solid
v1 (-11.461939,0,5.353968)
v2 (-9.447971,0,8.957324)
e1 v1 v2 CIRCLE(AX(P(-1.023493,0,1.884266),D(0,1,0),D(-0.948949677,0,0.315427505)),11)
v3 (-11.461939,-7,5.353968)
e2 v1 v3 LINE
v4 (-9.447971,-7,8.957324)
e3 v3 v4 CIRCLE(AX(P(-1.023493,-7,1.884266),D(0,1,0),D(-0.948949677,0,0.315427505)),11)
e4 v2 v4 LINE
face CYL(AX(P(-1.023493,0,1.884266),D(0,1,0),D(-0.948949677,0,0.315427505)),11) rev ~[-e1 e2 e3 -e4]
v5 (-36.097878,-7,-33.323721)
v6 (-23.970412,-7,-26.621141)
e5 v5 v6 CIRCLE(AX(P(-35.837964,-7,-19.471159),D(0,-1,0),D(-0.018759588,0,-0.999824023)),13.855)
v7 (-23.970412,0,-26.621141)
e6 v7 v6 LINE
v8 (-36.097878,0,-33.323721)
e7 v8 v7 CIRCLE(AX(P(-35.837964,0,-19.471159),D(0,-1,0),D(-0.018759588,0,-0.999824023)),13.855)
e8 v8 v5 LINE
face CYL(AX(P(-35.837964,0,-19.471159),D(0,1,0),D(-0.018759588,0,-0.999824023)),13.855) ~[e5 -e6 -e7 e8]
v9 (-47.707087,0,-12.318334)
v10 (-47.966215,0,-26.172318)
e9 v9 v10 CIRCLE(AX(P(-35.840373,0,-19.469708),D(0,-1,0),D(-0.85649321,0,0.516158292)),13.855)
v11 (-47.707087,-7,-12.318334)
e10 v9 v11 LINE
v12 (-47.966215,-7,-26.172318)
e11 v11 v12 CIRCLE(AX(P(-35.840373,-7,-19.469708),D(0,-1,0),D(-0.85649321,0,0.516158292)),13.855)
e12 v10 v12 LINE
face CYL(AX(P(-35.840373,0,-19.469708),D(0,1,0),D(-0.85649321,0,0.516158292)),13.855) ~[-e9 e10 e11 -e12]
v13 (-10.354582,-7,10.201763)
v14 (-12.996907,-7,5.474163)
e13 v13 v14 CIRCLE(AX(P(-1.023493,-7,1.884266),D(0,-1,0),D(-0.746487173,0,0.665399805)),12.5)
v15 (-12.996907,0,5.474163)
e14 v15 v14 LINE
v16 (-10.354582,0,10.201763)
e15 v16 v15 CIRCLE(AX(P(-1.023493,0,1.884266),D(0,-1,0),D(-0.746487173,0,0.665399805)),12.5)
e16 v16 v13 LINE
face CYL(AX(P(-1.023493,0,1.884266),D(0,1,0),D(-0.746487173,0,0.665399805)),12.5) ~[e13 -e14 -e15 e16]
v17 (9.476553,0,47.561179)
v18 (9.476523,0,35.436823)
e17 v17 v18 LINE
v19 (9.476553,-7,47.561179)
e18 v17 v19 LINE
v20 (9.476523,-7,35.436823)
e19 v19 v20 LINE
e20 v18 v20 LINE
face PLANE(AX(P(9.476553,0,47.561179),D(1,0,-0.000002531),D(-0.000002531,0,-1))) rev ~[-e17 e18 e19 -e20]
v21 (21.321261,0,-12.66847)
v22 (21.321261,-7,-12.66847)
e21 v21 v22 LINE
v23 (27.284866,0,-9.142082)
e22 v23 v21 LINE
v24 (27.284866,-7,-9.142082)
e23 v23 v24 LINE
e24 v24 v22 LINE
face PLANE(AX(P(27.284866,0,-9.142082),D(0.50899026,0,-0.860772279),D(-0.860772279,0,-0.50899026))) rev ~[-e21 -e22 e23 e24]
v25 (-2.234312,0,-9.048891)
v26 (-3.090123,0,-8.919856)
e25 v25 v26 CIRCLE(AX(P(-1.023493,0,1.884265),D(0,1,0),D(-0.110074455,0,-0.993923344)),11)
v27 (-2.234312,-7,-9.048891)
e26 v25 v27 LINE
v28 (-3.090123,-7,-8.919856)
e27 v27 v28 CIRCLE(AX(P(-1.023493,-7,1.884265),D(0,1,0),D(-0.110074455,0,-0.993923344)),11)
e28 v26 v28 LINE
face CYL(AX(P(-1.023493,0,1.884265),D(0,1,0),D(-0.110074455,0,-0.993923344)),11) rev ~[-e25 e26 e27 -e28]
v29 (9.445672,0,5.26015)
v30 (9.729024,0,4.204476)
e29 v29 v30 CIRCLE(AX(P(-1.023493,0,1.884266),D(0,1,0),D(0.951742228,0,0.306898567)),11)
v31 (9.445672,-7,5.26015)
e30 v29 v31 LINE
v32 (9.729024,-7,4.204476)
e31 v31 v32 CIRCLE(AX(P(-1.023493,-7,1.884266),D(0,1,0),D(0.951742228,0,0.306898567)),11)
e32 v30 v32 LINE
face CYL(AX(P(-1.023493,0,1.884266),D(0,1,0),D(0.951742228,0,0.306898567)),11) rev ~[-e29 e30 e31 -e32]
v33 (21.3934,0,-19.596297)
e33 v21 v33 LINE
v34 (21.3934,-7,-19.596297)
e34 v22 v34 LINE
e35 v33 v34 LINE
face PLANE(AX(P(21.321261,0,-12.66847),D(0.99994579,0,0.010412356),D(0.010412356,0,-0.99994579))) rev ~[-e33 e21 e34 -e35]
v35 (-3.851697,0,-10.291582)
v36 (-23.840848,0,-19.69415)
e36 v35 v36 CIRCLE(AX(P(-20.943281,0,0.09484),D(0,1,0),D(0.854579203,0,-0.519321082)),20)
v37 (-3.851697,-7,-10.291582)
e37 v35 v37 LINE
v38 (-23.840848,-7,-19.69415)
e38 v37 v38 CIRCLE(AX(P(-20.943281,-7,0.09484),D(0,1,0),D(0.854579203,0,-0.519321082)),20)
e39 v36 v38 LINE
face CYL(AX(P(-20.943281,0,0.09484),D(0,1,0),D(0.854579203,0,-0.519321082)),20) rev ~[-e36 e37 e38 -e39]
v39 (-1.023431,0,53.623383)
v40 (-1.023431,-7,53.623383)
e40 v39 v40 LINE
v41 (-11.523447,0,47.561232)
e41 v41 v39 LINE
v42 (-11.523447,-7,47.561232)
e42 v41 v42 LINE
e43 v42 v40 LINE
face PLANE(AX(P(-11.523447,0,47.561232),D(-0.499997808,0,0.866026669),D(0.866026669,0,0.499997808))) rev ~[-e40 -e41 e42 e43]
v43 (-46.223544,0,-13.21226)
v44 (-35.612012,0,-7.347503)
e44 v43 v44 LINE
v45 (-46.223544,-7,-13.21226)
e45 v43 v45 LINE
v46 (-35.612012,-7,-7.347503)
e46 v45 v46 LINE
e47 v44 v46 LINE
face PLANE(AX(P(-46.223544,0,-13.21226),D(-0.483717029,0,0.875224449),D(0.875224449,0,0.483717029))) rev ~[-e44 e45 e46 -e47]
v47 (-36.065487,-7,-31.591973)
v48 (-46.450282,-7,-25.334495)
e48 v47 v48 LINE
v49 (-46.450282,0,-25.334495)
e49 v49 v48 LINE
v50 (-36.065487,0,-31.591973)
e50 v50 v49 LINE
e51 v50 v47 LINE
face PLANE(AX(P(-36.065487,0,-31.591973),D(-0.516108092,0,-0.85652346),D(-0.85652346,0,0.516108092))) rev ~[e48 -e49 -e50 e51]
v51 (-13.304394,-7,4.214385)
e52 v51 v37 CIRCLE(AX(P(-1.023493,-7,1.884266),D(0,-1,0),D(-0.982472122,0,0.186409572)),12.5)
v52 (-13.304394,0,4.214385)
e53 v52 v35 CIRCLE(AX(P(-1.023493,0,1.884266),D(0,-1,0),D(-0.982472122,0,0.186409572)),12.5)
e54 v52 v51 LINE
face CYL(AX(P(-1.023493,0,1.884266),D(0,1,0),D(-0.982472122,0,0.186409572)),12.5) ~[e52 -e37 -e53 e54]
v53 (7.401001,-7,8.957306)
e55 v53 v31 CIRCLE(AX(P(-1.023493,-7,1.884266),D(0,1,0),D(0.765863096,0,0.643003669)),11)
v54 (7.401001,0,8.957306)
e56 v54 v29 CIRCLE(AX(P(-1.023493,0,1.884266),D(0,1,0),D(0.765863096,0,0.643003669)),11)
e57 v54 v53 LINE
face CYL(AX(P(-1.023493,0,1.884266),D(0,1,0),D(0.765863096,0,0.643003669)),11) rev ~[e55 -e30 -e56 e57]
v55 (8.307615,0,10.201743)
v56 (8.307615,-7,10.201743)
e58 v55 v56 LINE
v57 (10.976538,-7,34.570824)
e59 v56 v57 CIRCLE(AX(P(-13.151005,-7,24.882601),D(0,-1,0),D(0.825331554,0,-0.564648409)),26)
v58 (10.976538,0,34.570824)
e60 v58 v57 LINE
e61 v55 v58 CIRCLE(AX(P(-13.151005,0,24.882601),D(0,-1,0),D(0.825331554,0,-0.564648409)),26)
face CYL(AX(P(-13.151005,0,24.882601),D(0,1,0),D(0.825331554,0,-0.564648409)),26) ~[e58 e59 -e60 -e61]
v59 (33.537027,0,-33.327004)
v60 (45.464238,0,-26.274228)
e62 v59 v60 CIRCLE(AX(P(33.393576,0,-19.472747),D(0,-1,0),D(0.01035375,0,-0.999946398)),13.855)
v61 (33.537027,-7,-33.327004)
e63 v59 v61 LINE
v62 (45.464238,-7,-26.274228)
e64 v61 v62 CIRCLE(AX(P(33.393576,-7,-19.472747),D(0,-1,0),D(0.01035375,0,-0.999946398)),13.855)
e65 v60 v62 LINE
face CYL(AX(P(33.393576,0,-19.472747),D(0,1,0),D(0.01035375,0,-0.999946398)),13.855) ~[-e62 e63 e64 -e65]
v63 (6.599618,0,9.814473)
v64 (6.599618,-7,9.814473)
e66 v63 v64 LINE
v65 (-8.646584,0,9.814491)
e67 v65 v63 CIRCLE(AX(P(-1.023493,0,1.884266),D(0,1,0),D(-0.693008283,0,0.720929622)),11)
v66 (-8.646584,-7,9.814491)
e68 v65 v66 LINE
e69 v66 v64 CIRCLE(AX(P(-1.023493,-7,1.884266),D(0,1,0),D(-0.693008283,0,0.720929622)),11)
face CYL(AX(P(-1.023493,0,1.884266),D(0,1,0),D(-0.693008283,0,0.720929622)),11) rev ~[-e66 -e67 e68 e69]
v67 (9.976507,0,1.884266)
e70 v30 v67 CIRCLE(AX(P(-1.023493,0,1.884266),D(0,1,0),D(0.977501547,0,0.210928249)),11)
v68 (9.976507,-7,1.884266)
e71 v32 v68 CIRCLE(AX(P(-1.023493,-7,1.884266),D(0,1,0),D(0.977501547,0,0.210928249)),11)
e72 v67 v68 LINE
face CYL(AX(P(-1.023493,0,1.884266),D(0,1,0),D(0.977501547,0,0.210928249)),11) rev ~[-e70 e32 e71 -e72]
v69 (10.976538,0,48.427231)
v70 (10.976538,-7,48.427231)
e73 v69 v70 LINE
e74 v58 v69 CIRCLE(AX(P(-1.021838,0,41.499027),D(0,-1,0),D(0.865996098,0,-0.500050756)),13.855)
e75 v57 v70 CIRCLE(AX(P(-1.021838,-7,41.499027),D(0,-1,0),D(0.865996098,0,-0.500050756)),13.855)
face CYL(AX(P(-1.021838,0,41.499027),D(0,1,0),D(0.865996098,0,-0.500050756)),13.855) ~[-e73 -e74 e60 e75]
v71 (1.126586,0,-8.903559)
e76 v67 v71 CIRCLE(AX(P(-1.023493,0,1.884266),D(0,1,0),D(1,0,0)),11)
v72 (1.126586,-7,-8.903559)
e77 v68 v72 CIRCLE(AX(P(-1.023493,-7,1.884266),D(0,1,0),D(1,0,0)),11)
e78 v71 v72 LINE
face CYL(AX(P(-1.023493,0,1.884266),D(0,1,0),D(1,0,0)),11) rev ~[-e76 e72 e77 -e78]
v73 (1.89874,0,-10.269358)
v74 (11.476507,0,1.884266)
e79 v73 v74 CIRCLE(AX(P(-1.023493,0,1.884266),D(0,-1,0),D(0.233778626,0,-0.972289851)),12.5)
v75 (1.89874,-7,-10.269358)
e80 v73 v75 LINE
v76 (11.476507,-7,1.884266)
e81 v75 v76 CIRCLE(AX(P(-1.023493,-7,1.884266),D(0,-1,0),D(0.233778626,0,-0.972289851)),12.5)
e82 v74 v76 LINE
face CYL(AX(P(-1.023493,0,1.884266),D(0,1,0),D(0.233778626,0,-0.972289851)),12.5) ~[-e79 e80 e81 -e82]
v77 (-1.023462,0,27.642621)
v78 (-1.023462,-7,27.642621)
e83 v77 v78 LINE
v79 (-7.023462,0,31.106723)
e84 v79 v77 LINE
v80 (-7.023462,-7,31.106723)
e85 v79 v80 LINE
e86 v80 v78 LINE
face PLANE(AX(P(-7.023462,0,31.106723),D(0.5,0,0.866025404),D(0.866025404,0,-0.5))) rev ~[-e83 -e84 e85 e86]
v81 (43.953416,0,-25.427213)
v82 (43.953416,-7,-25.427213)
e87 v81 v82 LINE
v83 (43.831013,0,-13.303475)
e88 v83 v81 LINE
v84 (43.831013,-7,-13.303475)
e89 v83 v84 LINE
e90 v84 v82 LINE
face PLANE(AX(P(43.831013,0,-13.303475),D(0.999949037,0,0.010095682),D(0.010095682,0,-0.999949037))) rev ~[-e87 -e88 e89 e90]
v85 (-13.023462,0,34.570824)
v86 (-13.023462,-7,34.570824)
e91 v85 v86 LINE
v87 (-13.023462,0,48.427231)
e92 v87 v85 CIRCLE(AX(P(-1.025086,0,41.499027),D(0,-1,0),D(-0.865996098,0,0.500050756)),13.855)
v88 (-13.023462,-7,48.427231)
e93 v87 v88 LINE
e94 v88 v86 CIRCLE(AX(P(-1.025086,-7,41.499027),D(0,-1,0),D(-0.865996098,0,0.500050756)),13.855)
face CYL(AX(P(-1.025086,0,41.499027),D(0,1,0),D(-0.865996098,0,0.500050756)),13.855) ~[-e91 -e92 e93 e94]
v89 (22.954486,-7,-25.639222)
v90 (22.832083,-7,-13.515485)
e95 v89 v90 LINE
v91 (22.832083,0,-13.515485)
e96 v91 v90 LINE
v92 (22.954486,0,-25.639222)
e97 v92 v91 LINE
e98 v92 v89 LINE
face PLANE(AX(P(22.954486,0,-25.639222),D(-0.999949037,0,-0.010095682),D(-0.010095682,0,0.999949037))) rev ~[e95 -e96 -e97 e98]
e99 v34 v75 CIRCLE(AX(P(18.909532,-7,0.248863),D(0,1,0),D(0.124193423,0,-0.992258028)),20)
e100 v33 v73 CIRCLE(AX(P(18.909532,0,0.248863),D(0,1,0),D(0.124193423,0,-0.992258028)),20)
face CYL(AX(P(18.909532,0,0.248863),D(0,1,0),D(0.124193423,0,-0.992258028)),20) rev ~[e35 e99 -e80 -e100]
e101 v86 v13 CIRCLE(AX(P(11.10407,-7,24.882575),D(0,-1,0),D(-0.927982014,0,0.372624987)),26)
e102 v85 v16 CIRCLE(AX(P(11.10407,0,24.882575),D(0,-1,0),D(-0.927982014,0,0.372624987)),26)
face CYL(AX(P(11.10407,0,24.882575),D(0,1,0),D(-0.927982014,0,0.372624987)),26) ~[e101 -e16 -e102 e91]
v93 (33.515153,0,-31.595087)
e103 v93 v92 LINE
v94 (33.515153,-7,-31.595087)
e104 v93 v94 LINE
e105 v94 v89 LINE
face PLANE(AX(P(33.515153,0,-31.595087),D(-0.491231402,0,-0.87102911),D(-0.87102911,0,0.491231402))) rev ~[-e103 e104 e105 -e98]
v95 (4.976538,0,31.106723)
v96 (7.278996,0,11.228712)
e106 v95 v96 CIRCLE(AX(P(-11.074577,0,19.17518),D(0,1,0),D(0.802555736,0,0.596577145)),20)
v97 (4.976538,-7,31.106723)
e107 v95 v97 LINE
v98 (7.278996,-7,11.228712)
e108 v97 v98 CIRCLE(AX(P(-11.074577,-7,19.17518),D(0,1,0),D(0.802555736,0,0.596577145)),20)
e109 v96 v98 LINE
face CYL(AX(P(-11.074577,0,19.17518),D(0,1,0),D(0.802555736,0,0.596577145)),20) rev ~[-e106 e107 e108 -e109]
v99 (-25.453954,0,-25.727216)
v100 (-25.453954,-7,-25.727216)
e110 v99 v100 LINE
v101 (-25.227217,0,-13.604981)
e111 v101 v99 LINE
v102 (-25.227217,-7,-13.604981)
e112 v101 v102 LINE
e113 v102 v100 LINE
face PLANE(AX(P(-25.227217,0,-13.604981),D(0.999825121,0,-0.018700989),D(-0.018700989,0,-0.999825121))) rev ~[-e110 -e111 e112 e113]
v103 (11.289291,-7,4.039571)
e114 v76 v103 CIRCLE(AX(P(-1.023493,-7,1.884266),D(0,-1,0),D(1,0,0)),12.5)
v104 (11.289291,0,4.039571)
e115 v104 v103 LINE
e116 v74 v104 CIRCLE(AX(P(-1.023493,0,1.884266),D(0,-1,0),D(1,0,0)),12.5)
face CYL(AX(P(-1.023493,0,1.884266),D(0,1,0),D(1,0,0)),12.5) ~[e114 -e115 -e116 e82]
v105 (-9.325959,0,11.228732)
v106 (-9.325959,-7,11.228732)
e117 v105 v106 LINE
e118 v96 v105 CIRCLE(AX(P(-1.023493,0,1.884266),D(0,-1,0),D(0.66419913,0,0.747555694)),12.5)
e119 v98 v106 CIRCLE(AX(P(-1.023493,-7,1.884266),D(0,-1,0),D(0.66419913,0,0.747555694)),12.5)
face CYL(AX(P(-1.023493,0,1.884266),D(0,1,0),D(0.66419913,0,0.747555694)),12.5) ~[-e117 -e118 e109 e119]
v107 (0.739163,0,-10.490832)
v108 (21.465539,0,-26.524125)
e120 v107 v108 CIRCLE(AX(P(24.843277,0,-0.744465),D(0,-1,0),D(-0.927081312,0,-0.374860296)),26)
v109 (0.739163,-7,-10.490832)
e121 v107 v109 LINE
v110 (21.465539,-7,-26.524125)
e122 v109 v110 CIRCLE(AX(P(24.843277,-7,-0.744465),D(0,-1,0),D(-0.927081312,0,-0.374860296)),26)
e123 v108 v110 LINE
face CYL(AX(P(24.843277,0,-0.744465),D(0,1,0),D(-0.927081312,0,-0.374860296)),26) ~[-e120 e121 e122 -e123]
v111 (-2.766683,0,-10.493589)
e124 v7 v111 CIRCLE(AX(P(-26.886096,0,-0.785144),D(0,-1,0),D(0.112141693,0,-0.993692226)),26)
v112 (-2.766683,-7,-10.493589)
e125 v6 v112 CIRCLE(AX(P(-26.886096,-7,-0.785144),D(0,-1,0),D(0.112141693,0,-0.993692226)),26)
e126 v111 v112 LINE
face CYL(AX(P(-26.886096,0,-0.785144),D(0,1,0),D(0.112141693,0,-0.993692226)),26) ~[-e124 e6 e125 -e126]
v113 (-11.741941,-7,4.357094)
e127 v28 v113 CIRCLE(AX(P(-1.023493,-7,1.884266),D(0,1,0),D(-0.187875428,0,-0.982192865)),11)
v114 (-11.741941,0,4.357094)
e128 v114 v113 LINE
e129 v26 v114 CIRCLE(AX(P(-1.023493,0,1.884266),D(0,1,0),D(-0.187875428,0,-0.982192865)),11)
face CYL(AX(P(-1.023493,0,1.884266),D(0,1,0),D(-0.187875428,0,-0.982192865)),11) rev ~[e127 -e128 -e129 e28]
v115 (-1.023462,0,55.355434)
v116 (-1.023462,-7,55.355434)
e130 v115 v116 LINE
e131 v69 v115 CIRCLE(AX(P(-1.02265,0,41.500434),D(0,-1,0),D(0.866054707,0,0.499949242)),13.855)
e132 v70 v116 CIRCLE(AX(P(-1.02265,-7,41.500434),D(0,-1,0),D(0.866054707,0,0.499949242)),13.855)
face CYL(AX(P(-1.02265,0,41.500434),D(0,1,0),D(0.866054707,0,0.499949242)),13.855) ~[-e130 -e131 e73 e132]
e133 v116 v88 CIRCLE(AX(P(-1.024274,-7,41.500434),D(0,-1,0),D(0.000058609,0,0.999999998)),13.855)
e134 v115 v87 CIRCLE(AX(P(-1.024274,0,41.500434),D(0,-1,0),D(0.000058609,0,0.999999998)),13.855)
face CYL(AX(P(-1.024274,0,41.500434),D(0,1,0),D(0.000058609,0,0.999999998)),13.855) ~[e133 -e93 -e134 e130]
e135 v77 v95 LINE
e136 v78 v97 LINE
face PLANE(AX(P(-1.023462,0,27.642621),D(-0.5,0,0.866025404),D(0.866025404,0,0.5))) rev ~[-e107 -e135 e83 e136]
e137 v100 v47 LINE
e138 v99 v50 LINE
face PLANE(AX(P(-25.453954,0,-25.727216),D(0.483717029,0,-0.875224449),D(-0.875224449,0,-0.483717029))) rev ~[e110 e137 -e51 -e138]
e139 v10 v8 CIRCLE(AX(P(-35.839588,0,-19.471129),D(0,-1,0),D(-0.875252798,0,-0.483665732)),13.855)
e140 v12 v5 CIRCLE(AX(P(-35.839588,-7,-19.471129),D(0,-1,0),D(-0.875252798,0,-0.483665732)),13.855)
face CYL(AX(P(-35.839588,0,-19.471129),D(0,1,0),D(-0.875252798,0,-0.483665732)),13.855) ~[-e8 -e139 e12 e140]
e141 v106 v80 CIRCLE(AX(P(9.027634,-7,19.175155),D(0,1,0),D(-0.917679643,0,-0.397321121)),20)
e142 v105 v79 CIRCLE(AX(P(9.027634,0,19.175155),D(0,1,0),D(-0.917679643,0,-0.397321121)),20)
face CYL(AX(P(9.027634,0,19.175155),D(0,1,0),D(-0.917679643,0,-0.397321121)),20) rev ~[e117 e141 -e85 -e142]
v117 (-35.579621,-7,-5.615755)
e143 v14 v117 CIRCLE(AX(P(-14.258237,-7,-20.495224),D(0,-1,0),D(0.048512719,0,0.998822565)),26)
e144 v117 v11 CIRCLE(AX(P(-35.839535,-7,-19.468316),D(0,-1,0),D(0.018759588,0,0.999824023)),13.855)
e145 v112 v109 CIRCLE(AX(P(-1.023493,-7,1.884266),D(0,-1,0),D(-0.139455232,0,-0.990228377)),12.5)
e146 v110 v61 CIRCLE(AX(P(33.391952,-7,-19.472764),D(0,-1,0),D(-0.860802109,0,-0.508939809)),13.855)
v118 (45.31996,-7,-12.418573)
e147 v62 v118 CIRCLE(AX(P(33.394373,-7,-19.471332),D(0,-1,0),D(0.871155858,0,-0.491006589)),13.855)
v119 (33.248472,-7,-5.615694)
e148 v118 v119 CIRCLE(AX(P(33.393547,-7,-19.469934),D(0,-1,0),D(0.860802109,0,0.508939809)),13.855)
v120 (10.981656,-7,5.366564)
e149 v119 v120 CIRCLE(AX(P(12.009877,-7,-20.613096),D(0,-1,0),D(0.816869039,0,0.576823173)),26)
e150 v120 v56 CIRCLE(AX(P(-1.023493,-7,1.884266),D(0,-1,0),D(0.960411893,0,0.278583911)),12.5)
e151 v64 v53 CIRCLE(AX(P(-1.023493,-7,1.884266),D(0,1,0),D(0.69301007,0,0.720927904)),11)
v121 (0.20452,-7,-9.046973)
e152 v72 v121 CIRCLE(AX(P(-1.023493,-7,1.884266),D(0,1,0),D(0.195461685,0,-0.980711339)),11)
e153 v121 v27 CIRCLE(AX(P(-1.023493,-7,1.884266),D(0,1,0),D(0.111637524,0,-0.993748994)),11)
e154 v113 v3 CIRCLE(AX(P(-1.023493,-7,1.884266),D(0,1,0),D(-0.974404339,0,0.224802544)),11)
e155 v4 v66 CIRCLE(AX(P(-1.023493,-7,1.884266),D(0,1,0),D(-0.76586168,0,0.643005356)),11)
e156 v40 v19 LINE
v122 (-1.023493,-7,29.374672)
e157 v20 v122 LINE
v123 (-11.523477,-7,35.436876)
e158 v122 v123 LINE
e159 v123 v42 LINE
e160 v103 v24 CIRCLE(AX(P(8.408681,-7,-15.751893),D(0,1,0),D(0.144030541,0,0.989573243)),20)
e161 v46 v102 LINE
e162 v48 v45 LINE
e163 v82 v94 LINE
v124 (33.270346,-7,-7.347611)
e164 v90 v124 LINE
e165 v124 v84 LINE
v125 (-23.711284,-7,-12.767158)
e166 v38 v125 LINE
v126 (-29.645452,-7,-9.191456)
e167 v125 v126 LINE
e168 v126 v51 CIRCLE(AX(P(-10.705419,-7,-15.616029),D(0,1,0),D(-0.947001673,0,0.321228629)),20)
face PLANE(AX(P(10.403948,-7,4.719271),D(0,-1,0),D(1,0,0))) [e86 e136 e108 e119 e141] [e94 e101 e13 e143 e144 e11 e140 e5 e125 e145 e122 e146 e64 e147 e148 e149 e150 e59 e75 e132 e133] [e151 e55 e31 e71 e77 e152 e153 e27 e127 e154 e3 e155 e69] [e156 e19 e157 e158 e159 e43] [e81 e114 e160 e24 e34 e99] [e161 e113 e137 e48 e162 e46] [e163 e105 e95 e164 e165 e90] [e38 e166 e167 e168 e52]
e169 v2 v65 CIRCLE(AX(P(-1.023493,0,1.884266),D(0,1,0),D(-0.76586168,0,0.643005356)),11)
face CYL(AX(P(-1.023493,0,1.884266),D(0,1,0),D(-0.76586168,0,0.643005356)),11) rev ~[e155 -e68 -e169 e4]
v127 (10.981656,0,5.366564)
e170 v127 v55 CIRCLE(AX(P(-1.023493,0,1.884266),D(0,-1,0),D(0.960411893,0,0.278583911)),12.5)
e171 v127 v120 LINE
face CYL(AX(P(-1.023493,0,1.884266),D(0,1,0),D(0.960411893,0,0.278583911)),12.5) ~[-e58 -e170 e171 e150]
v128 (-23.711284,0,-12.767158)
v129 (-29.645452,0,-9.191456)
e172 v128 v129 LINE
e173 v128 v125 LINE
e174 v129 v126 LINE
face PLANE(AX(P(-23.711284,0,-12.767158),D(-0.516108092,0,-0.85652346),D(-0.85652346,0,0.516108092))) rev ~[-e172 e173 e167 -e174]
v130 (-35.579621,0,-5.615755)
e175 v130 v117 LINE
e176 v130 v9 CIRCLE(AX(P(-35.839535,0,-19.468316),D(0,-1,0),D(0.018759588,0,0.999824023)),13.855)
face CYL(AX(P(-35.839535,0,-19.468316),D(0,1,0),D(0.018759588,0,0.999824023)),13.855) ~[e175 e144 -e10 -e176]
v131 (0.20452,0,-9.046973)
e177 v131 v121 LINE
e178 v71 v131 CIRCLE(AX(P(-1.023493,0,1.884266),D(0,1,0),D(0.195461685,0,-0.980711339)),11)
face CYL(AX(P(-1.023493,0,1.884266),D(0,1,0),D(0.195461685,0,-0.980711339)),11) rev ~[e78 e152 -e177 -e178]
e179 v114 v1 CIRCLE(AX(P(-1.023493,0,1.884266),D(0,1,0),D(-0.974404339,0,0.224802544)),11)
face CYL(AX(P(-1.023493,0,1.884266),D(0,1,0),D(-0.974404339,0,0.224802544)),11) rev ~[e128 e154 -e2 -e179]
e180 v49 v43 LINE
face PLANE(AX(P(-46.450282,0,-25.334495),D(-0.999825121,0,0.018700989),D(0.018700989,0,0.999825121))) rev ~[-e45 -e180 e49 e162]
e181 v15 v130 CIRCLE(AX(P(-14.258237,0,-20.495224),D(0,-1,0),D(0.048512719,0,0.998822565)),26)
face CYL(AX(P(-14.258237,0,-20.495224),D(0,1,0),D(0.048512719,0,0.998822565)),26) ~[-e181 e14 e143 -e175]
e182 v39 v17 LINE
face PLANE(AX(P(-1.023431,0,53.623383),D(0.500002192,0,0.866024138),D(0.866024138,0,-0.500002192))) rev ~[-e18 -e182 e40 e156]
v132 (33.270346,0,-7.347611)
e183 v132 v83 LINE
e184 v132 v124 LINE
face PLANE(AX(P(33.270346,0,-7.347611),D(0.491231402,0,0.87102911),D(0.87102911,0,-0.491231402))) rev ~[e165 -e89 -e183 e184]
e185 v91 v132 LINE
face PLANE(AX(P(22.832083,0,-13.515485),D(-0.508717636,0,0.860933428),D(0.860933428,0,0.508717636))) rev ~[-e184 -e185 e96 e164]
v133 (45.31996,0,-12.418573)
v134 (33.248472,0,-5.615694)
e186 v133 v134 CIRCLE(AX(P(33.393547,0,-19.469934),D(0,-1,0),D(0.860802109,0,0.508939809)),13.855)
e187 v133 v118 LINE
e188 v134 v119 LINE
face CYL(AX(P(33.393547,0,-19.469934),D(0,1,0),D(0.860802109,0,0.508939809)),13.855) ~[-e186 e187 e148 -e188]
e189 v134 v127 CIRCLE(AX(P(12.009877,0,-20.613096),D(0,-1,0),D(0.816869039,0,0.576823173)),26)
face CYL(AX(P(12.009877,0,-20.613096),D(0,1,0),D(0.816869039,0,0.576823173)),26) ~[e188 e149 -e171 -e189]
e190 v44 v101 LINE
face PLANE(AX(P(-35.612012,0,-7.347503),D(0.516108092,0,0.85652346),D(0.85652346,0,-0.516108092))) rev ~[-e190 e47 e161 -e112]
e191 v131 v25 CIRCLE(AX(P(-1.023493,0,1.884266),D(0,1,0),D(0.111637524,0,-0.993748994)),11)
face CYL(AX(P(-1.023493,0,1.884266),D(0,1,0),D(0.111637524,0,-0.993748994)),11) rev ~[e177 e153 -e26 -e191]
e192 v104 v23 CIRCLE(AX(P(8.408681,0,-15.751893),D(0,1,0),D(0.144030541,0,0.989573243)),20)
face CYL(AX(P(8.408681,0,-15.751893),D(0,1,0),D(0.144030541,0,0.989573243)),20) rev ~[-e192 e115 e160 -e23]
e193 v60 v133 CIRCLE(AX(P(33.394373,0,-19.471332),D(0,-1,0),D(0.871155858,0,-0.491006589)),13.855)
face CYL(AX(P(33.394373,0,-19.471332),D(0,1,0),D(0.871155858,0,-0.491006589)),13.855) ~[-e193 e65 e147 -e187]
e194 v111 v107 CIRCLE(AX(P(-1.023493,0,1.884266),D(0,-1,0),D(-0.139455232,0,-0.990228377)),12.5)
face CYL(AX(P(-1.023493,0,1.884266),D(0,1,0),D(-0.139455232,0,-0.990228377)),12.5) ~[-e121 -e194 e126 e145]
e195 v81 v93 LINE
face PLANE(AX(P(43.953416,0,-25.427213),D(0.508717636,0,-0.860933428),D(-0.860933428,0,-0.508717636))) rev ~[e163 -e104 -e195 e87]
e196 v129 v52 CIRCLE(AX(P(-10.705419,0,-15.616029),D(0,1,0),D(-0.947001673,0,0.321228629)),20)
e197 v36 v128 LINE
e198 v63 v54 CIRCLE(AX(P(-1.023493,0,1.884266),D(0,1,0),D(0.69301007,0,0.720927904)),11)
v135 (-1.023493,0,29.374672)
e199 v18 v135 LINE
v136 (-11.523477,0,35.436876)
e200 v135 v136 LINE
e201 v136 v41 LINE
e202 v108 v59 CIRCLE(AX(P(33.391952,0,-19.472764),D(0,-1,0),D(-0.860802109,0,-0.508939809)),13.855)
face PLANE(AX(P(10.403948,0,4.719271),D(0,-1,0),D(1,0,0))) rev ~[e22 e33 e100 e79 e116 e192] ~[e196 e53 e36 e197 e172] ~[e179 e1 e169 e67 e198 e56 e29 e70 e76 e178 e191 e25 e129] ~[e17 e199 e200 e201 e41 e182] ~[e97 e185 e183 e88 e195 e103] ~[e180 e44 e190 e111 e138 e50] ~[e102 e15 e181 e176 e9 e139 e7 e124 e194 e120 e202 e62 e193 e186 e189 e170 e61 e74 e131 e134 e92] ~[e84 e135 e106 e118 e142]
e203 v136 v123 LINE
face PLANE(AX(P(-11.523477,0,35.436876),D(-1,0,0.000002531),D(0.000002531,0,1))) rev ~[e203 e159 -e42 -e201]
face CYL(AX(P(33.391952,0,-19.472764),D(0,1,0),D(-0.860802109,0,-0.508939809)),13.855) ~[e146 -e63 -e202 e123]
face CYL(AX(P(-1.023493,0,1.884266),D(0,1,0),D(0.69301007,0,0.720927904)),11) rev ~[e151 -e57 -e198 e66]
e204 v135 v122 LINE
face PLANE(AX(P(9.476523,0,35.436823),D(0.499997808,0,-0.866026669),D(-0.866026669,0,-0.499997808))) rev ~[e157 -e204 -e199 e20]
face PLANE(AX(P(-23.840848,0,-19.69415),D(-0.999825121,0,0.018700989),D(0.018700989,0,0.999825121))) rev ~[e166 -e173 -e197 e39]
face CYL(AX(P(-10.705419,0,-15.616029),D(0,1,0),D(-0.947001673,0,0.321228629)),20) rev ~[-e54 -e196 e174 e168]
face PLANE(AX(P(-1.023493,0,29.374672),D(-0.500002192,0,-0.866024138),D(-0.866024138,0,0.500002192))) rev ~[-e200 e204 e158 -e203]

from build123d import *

# Parameters (mm, degrees)
F1_DEPTH = 7


with BuildPart() as f1:
    # F0 (on Front) → F1 (new body)
    with BuildSketch(Plane.XZ):
        with BuildLine():
            ThreePointArc((9.4456717064, 5.2601498032), (9.600468476, 4.7358347218), (9.7290242066, 4.2044763037))
            ThreePointArc((9.7290242066, 4.2044763037), (10.5107755148, 4.1373297128), (11.2892914689, 4.039571431))
            ThreePointArc((11.2892914689, 4.039571431), (11.15356321, 4.7072616256), (10.9816558574, 5.3665644531))
            ThreePointArc((10.9816558574, 5.3665644531), (10.2128759024, 5.324729345), (9.4456717064, 5.2601498032))
        make_face()
        with BuildLine():
            ThreePointArc((1.898740022, -10.2693575702), (1.4992647233, -9.5940330125), (1.1265857306, -8.9035591601))
            ThreePointArc((1.1265857306, -8.9035591601), (0.6670742909, -8.9850482544), (0.2045199529, -9.0469733711))
            ThreePointArc((0.2045199529, -9.0469733711), (0.4611512695, -9.7728612156), (0.7391628535, -10.4908322141))
            ThreePointArc((0.7391628535, -10.4908322141), (1.3215674895, -10.3937917824), (1.898740022, -10.2693575702))
        make_face()
        with BuildLine():
            ThreePointArc((7.4010012493, 8.9573059217), (8.6025045117, 7.207814721), (9.4456717064, 5.2601498032))
            ThreePointArc((9.4456717064, 5.2601498032), (10.2128759024, 5.324729345), (10.9816558574, 5.3665644531))
            ThreePointArc((10.9816558574, 5.3665644531), (9.9151405096, 7.9337532424), (8.3076151809, 10.2017425688))
            ThreePointArc((8.3076151809, 10.2017425688), (7.8635218541, 9.5728117995), (7.4010012493, 8.9573059217))
        make_face()
        with BuildLine():
            ThreePointArc((10.9816558574, 5.3665644531), (11.15356321, 4.7072616256), (11.2892914689, 4.039571431))
            ThreePointArc((11.2892914689, 4.039571431), (21.1279000718, -0.3174690096), (27.2848663586, -9.1420815667))
            Line((27.2848663586, -9.1420815667), (33.2484716393, -5.6156936051))
            ThreePointArc((33.2484716393, -5.6156936051), (23.5106289822, 2.7049804784), (10.9816558574, 5.3665644531))
        make_face()
        with BuildLine():
            ThreePointArc((0.7391628535, -10.4908322141), (0.4611512695, -9.7728612156), (0.2045199529, -9.0469733711))
            ThreePointArc((0.2045199529, -9.0469733711), (-1.0148426173, -9.1157310346), (-2.2343118188, -9.0488912223))
            ThreePointArc((-2.2343118188, -9.0488912223), (-2.4898011698, -9.7751817889), (-2.766683213, -10.4935891452))
            ThreePointArc((-2.766683213, -10.4935891452), (-1.013663046, -10.6157305708), (0.7391628535, -10.4908322141))
        make_face()
        with BuildLine():
            ThreePointArc((21.3933999959, -19.5962971804), (10.2778559187, -17.7925937698), (1.898740022, -10.2693575702))
            ThreePointArc((1.898740022, -10.2693575702), (1.3215674895, -10.3937917824), (0.7391628535, -10.4908322141))
            ThreePointArc((0.7391628535, -10.4908322141), (8.9347991107, -21.3094914503), (21.465538914, -26.5241248325))
            Line((21.465538914, -26.5241248325), (21.3933999959, -19.5962971804))
        make_face()
        with BuildLine():
            ThreePointArc((6.5996179621, 9.8144725101), (7.0117476249, 9.3965828635), (7.4010012493, 8.9573059217))
            ThreePointArc((7.4010012493, 8.9573059217), (7.8635218541, 9.5728117995), (8.3076151809, 10.2017425688))
            ThreePointArc((8.3076151809, 10.2017425688), (7.8082455965, 10.7301909978), (7.2789963207, 11.2287117377))
            ThreePointArc((7.2789963207, 11.2287117377), (6.9531804871, 10.5149275861), (6.5996179621, 9.8144725101))
        make_face()
        Polygon((33.2484716393, -5.6156936051), (27.2848663586, -9.1420815667), (21.3212610779, -12.6684695284), (21.3933999959, -19.5962971804), (21.465538914, -26.5241248325), (33.5370273114, -33.3270042133), (45.4642378728, -26.27422829), (45.3199600368, -12.4185729859), align=None)
        Polygon((43.9534161867, -25.4272131297), (33.5151531146, -31.5950866723), (22.9544864033, -25.6392224518), (22.8320827641, -13.5154846887), (33.2703458362, -7.3476111461), (43.8310125475, -13.3034753666), align=None, mode=Mode.SUBTRACT)
        with BuildLine():
            ThreePointArc((-2.766683213, -10.4935891452), (-2.4898011698, -9.7751817889), (-2.2343118188, -9.0488912223))
            ThreePointArc((-2.2343118188, -9.0488912223), (-2.663486724, -8.9927937788), (-3.0901225116, -8.9198559485))
            ThreePointArc((-3.0901225116, -8.9198559485), (-3.4574533465, -9.6131898005), (-3.8516967834, -10.2915819326))
            ThreePointArc((-3.8516967834, -10.2915819326), (-3.3114205546, -10.40456622), (-2.766683213, -10.4935891452))
        make_face()
        with BuildLine():
            ThreePointArc((7.2789963207, 11.2287117377), (7.8082455965, 10.7301909978), (8.3076151809, 10.2017425688))
            ThreePointArc((8.3076151809, 10.2017425688), (12.6944510585, 22.0519846925), (10.9765378838, 34.5708241647))
            Line((10.9765378838, 34.5708241647), (4.9765378838, 31.1067225496))
            ThreePointArc((4.9765378838, 31.1067225496), (8.7925937074, 21.4763824602), (7.2789963207, 11.2287117377))
        make_face()
        with BuildLine():
            ThreePointArc((45.3199600368, -12.4185729859), (40.1957356919, -7.3996709353), (33.2484716393, -5.6156936051))
            Line((33.2484716393, -5.6156936051), (45.3199600368, -12.4185729859))
        make_face()
        with BuildLine():
            ThreePointArc((-23.9704121928, -26.6211414084), (-11.1460643449, -21.4793793566), (-2.766683213, -10.4935891452))
            ThreePointArc((-2.766683213, -10.4935891452), (-3.3114205546, -10.40456622), (-3.8516967834, -10.2915819326))
            ThreePointArc((-3.8516967834, -10.2915819326), (-12.4303730025, -18.0029612656), (-23.8408479408, -19.6941497739))
            Line((-23.8408479408, -19.6941497739), (-23.9704121928, -26.6211414084))
        make_face()
        with BuildLine():
            Line((33.5370273114, -33.3270042133), (21.465538914, -26.5241248325))
            ThreePointArc((21.465538914, -26.5241248325), (26.5897632589, -31.5430268831), (33.5370273114, -33.3270042133))
        make_face()
        with BuildLine():
            ThreePointArc((-9.4479712841, 8.9573244772), (-9.0587156546, 9.3966016714), (-8.6465839183, 9.8144914063))
            ThreePointArc((-8.6465839183, 9.8144914063), (-9.0001447069, 10.5149473587), (-9.3259587712, 11.2287323179))
            ThreePointArc((-9.3259587712, 11.2287323179), (-9.8552105045, 10.7302116701), (-10.3545824748, 10.2017631212))
            ThreePointArc((-10.3545824748, 10.2017631212), (-9.9104905332, 9.5728313737), (-9.4479712841, 8.9573244772))
        make_face()
        Polygon((4.9765378838, 31.1067225496), (10.9765378838, 34.5708241647), (10.9765378838, 48.4272306253), (-1.0234621162, 55.3554338556), (-13.0234621162, 48.4272306253), (-13.0234621162, 34.5708241647), (-7.0234621162, 31.1067225496), (-1.0234621162, 27.6426209345), align=None)
        Polygon((-1.0234314257, 53.623383048), (9.476553229, 47.5611786427), (9.4765225384, 35.4368229897), (-1.0234928068, 29.3746717421), (-11.5234774615, 35.4368761474), (-11.5234467709, 47.5612318003), align=None, mode=Mode.SUBTRACT)
        with BuildLine():
            Line((10.9765378838, 48.4272306253), (10.9765378838, 34.5708241647))
            ThreePointArc((10.9765378838, 34.5708241647), (12.833161952, 41.499027395), (10.9765378838, 48.4272306253))
        make_face()
        with BuildLine():
            ThreePointArc((45.4642378728, -26.27422829), (47.2486223754, -19.3270688073), (45.3199600368, -12.4185729859))
            Line((45.3199600368, -12.4185729859), (45.4642378728, -26.27422829))
        make_face()
        with BuildLine():
            ThreePointArc((-13.3043943376, 4.2143852159), (-12.5245673718, 4.301066678), (-11.7419405373, 4.3570935503))
            ThreePointArc((-11.7419405373, 4.3570935503), (-11.6136761156, 4.8588272943), (-11.4619392518, 5.3539681185))
            ThreePointArc((-11.4619392518, 5.3539681185), (-12.2285329906, 5.425430242), (-12.9969065423, 5.474162989))
            ThreePointArc((-12.9969065423, 5.474162989), (-13.1669977485, 4.8482641696), (-13.3043943376, 4.2143852159))
        make_face()
        Polygon((-36.0978778993, -33.3237211757), (-23.9704121928, -26.6211414084), (-23.8408479408, -19.6941497739), (-23.7112836889, -12.7671581394), (-29.6454522902, -9.1914563885), (-35.5796208915, -5.6157546377), (-47.707086598, -12.3183344049), (-47.9662151019, -26.172317674), align=None)
        Polygon((-35.6120119545, -7.3475025463), (-25.2272169022, -13.6049806103), (-25.4539543431, -25.7272159707), (-36.0654868363, -31.5919732671), (-46.4502818886, -25.3344952031), (-46.2235444477, -13.2122598427), align=None, mode=Mode.SUBTRACT)
        with BuildLine():
            ThreePointArc((-36.0978778993, -33.3237211757), (-29.1360643676, -31.5973940688), (-23.9704121928, -26.6211414084))
            Line((-23.9704121928, -26.6211414084), (-36.0978778993, -33.3237211757))
        make_face()
        with BuildLine():
            Line((45.4642378728, -26.27422829), (33.5370273114, -33.3270042133))
            ThreePointArc((33.5370273114, -33.3270042133), (40.4456361588, -31.3987467812), (45.4642378728, -26.27422829))
        make_face()
        with BuildLine():
            ThreePointArc((-11.4619392518, 5.3539681185), (-10.6254992856, 7.2509658151), (-9.4479712841, 8.9573244772))
            ThreePointArc((-9.4479712841, 8.9573244772), (-9.9104905332, 9.5728313737), (-10.3545824748, 10.2017631212))
            ThreePointArc((-10.3545824748, 10.2017631212), (-11.9348638054, 7.9827885766), (-12.9969065423, 5.474162989))
            ThreePointArc((-12.9969065423, 5.474162989), (-12.2285329906, 5.425430242), (-11.4619392518, 5.3539681185))
        make_face()
        with BuildLine():
            ThreePointArc((-10.3545824748, 10.2017631212), (-9.8552105045, 10.7302116701), (-9.3259587712, 11.2287323179))
            ThreePointArc((-9.3259587712, 11.2287323179), (-10.8395318221, 21.4763975879), (-7.0234621162, 31.1067225496))
            Line((-7.0234621162, 31.1067225496), (-13.0234621162, 34.5708241647))
            ThreePointArc((-13.0234621162, 34.5708241647), (-14.741390701, 22.0520007508), (-10.3545824748, 10.2017631212))
        make_face()
        with BuildLine():
            Line((-1.0234621162, 55.3554338556), (10.9765378838, 48.4272306253))
            ThreePointArc((10.9765378838, 48.4272306253), (5.9048499179, 53.4992158488), (-1.0234621162, 55.3554338556))
        make_face()
        with BuildLine():
            ThreePointArc((-29.6454522902, -9.1914563885), (-23.3905035411, -0.1535380211), (-13.3043943376, 4.2143852159))
            ThreePointArc((-13.3043943376, 4.2143852159), (-13.1669977485, 4.8482641696), (-12.9969065423, 5.474162989))
            ThreePointArc((-12.9969065423, 5.474162989), (-25.7189527233, 2.8425568481), (-35.5796208915, -5.6157546377))
            Line((-35.5796208915, -5.6157546377), (-29.6454522902, -9.1914563885))
        make_face()
        with BuildLine():
            ThreePointArc((-47.9662151019, -26.172317674), (-42.9902652062, -31.3382614954), (-36.0978778993, -33.3237211757))
            Line((-36.0978778993, -33.3237211757), (-47.9662151019, -26.172317674))
        make_face()
        with BuildLine():
            Line((-13.0234621162, 48.4272306253), (-1.0234621162, 55.3554338556))
            ThreePointArc((-1.0234621162, 55.3554338556), (-7.9517741504, 53.4992158488), (-13.0234621162, 48.4272306253))
        make_face()
        with BuildLine():
            ThreePointArc((-47.707086598, -12.3183344049), (-49.6929502341, -19.2106053333), (-47.9662151019, -26.172317674))
            Line((-47.9662151019, -26.172317674), (-47.707086598, -12.3183344049))
        make_face()
        with BuildLine():
            ThreePointArc((-13.0234621162, 48.4272306253), (-14.8800861845, 41.499027395), (-13.0234621162, 34.5708241647))
            Line((-13.0234621162, 34.5708241647), (-13.0234621162, 48.4272306253))
        make_face()
        with BuildLine():
            Line((-47.707086598, -12.3183344049), (-35.5796208915, -5.6157546377))
            ThreePointArc((-35.5796208915, -5.6157546377), (-42.5414344232, -7.3420817446), (-47.707086598, -12.3183344049))
        make_face()
        with BuildLine():
            ThreePointArc((-3.8516967834, -10.2915819326), (-3.4574533465, -9.6131898005), (-3.0901225116, -8.9198559485))
            ThreePointArc((-3.0901225116, -8.9198559485), (-10.2394516965, -4.1212403882), (-11.7419405373, 4.3570935503))
            ThreePointArc((-11.7419405373, 4.3570935503), (-12.5245673718, 4.301066678), (-13.3043943376, 4.2143852159))
            ThreePointArc((-13.3043943376, 4.2143852159), (-11.4961733632, -4.940173018), (-3.8516967834, -10.2915819326))
        make_face()
        with BuildLine():
            ThreePointArc((-8.6465839183, 9.8144914063), (-1.0234791734, 12.8842655642), (6.5996179621, 9.8144725101))
            ThreePointArc((6.5996179621, 9.8144725101), (6.9531804871, 10.5149275861), (7.2789963207, 11.2287117377))
            ThreePointArc((7.2789963207, 11.2287117377), (-1.0234773143, 14.3842655642), (-9.3259587712, 11.2287323179))
            ThreePointArc((-9.3259587712, 11.2287323179), (-9.0001447069, 10.5149473587), (-8.6465839183, 9.8144914063))
        make_face()
        with BuildLine():
            ThreePointArc((9.7290242066, 4.2044763037), (9.9144614614, 3.0509516514), (9.9765071932, 1.8842655643))
            ThreePointArc((9.9765071932, 1.8842655643), (7.4809432095, -5.0924505719), (1.1265857306, -8.9035591601))
            ThreePointArc((1.1265857306, -8.9035591601), (1.4992647233, -9.5940330125), (1.898740022, -10.2693575702))
            ThreePointArc((1.898740022, -10.2693575702), (8.7942948859, -5.8527264107), (11.4765071932, 1.8842655643))
            ThreePointArc((11.4765071932, 1.8842655643), (11.4296153082, 2.9659763743), (11.2892914689, 4.039571431))
            ThreePointArc((11.2892914689, 4.039571431), (10.5107755148, 4.1373297128), (9.7290242066, 4.2044763037))
        make_face()
    extrude(amount=F1_DEPTH)


solid = f1.part
